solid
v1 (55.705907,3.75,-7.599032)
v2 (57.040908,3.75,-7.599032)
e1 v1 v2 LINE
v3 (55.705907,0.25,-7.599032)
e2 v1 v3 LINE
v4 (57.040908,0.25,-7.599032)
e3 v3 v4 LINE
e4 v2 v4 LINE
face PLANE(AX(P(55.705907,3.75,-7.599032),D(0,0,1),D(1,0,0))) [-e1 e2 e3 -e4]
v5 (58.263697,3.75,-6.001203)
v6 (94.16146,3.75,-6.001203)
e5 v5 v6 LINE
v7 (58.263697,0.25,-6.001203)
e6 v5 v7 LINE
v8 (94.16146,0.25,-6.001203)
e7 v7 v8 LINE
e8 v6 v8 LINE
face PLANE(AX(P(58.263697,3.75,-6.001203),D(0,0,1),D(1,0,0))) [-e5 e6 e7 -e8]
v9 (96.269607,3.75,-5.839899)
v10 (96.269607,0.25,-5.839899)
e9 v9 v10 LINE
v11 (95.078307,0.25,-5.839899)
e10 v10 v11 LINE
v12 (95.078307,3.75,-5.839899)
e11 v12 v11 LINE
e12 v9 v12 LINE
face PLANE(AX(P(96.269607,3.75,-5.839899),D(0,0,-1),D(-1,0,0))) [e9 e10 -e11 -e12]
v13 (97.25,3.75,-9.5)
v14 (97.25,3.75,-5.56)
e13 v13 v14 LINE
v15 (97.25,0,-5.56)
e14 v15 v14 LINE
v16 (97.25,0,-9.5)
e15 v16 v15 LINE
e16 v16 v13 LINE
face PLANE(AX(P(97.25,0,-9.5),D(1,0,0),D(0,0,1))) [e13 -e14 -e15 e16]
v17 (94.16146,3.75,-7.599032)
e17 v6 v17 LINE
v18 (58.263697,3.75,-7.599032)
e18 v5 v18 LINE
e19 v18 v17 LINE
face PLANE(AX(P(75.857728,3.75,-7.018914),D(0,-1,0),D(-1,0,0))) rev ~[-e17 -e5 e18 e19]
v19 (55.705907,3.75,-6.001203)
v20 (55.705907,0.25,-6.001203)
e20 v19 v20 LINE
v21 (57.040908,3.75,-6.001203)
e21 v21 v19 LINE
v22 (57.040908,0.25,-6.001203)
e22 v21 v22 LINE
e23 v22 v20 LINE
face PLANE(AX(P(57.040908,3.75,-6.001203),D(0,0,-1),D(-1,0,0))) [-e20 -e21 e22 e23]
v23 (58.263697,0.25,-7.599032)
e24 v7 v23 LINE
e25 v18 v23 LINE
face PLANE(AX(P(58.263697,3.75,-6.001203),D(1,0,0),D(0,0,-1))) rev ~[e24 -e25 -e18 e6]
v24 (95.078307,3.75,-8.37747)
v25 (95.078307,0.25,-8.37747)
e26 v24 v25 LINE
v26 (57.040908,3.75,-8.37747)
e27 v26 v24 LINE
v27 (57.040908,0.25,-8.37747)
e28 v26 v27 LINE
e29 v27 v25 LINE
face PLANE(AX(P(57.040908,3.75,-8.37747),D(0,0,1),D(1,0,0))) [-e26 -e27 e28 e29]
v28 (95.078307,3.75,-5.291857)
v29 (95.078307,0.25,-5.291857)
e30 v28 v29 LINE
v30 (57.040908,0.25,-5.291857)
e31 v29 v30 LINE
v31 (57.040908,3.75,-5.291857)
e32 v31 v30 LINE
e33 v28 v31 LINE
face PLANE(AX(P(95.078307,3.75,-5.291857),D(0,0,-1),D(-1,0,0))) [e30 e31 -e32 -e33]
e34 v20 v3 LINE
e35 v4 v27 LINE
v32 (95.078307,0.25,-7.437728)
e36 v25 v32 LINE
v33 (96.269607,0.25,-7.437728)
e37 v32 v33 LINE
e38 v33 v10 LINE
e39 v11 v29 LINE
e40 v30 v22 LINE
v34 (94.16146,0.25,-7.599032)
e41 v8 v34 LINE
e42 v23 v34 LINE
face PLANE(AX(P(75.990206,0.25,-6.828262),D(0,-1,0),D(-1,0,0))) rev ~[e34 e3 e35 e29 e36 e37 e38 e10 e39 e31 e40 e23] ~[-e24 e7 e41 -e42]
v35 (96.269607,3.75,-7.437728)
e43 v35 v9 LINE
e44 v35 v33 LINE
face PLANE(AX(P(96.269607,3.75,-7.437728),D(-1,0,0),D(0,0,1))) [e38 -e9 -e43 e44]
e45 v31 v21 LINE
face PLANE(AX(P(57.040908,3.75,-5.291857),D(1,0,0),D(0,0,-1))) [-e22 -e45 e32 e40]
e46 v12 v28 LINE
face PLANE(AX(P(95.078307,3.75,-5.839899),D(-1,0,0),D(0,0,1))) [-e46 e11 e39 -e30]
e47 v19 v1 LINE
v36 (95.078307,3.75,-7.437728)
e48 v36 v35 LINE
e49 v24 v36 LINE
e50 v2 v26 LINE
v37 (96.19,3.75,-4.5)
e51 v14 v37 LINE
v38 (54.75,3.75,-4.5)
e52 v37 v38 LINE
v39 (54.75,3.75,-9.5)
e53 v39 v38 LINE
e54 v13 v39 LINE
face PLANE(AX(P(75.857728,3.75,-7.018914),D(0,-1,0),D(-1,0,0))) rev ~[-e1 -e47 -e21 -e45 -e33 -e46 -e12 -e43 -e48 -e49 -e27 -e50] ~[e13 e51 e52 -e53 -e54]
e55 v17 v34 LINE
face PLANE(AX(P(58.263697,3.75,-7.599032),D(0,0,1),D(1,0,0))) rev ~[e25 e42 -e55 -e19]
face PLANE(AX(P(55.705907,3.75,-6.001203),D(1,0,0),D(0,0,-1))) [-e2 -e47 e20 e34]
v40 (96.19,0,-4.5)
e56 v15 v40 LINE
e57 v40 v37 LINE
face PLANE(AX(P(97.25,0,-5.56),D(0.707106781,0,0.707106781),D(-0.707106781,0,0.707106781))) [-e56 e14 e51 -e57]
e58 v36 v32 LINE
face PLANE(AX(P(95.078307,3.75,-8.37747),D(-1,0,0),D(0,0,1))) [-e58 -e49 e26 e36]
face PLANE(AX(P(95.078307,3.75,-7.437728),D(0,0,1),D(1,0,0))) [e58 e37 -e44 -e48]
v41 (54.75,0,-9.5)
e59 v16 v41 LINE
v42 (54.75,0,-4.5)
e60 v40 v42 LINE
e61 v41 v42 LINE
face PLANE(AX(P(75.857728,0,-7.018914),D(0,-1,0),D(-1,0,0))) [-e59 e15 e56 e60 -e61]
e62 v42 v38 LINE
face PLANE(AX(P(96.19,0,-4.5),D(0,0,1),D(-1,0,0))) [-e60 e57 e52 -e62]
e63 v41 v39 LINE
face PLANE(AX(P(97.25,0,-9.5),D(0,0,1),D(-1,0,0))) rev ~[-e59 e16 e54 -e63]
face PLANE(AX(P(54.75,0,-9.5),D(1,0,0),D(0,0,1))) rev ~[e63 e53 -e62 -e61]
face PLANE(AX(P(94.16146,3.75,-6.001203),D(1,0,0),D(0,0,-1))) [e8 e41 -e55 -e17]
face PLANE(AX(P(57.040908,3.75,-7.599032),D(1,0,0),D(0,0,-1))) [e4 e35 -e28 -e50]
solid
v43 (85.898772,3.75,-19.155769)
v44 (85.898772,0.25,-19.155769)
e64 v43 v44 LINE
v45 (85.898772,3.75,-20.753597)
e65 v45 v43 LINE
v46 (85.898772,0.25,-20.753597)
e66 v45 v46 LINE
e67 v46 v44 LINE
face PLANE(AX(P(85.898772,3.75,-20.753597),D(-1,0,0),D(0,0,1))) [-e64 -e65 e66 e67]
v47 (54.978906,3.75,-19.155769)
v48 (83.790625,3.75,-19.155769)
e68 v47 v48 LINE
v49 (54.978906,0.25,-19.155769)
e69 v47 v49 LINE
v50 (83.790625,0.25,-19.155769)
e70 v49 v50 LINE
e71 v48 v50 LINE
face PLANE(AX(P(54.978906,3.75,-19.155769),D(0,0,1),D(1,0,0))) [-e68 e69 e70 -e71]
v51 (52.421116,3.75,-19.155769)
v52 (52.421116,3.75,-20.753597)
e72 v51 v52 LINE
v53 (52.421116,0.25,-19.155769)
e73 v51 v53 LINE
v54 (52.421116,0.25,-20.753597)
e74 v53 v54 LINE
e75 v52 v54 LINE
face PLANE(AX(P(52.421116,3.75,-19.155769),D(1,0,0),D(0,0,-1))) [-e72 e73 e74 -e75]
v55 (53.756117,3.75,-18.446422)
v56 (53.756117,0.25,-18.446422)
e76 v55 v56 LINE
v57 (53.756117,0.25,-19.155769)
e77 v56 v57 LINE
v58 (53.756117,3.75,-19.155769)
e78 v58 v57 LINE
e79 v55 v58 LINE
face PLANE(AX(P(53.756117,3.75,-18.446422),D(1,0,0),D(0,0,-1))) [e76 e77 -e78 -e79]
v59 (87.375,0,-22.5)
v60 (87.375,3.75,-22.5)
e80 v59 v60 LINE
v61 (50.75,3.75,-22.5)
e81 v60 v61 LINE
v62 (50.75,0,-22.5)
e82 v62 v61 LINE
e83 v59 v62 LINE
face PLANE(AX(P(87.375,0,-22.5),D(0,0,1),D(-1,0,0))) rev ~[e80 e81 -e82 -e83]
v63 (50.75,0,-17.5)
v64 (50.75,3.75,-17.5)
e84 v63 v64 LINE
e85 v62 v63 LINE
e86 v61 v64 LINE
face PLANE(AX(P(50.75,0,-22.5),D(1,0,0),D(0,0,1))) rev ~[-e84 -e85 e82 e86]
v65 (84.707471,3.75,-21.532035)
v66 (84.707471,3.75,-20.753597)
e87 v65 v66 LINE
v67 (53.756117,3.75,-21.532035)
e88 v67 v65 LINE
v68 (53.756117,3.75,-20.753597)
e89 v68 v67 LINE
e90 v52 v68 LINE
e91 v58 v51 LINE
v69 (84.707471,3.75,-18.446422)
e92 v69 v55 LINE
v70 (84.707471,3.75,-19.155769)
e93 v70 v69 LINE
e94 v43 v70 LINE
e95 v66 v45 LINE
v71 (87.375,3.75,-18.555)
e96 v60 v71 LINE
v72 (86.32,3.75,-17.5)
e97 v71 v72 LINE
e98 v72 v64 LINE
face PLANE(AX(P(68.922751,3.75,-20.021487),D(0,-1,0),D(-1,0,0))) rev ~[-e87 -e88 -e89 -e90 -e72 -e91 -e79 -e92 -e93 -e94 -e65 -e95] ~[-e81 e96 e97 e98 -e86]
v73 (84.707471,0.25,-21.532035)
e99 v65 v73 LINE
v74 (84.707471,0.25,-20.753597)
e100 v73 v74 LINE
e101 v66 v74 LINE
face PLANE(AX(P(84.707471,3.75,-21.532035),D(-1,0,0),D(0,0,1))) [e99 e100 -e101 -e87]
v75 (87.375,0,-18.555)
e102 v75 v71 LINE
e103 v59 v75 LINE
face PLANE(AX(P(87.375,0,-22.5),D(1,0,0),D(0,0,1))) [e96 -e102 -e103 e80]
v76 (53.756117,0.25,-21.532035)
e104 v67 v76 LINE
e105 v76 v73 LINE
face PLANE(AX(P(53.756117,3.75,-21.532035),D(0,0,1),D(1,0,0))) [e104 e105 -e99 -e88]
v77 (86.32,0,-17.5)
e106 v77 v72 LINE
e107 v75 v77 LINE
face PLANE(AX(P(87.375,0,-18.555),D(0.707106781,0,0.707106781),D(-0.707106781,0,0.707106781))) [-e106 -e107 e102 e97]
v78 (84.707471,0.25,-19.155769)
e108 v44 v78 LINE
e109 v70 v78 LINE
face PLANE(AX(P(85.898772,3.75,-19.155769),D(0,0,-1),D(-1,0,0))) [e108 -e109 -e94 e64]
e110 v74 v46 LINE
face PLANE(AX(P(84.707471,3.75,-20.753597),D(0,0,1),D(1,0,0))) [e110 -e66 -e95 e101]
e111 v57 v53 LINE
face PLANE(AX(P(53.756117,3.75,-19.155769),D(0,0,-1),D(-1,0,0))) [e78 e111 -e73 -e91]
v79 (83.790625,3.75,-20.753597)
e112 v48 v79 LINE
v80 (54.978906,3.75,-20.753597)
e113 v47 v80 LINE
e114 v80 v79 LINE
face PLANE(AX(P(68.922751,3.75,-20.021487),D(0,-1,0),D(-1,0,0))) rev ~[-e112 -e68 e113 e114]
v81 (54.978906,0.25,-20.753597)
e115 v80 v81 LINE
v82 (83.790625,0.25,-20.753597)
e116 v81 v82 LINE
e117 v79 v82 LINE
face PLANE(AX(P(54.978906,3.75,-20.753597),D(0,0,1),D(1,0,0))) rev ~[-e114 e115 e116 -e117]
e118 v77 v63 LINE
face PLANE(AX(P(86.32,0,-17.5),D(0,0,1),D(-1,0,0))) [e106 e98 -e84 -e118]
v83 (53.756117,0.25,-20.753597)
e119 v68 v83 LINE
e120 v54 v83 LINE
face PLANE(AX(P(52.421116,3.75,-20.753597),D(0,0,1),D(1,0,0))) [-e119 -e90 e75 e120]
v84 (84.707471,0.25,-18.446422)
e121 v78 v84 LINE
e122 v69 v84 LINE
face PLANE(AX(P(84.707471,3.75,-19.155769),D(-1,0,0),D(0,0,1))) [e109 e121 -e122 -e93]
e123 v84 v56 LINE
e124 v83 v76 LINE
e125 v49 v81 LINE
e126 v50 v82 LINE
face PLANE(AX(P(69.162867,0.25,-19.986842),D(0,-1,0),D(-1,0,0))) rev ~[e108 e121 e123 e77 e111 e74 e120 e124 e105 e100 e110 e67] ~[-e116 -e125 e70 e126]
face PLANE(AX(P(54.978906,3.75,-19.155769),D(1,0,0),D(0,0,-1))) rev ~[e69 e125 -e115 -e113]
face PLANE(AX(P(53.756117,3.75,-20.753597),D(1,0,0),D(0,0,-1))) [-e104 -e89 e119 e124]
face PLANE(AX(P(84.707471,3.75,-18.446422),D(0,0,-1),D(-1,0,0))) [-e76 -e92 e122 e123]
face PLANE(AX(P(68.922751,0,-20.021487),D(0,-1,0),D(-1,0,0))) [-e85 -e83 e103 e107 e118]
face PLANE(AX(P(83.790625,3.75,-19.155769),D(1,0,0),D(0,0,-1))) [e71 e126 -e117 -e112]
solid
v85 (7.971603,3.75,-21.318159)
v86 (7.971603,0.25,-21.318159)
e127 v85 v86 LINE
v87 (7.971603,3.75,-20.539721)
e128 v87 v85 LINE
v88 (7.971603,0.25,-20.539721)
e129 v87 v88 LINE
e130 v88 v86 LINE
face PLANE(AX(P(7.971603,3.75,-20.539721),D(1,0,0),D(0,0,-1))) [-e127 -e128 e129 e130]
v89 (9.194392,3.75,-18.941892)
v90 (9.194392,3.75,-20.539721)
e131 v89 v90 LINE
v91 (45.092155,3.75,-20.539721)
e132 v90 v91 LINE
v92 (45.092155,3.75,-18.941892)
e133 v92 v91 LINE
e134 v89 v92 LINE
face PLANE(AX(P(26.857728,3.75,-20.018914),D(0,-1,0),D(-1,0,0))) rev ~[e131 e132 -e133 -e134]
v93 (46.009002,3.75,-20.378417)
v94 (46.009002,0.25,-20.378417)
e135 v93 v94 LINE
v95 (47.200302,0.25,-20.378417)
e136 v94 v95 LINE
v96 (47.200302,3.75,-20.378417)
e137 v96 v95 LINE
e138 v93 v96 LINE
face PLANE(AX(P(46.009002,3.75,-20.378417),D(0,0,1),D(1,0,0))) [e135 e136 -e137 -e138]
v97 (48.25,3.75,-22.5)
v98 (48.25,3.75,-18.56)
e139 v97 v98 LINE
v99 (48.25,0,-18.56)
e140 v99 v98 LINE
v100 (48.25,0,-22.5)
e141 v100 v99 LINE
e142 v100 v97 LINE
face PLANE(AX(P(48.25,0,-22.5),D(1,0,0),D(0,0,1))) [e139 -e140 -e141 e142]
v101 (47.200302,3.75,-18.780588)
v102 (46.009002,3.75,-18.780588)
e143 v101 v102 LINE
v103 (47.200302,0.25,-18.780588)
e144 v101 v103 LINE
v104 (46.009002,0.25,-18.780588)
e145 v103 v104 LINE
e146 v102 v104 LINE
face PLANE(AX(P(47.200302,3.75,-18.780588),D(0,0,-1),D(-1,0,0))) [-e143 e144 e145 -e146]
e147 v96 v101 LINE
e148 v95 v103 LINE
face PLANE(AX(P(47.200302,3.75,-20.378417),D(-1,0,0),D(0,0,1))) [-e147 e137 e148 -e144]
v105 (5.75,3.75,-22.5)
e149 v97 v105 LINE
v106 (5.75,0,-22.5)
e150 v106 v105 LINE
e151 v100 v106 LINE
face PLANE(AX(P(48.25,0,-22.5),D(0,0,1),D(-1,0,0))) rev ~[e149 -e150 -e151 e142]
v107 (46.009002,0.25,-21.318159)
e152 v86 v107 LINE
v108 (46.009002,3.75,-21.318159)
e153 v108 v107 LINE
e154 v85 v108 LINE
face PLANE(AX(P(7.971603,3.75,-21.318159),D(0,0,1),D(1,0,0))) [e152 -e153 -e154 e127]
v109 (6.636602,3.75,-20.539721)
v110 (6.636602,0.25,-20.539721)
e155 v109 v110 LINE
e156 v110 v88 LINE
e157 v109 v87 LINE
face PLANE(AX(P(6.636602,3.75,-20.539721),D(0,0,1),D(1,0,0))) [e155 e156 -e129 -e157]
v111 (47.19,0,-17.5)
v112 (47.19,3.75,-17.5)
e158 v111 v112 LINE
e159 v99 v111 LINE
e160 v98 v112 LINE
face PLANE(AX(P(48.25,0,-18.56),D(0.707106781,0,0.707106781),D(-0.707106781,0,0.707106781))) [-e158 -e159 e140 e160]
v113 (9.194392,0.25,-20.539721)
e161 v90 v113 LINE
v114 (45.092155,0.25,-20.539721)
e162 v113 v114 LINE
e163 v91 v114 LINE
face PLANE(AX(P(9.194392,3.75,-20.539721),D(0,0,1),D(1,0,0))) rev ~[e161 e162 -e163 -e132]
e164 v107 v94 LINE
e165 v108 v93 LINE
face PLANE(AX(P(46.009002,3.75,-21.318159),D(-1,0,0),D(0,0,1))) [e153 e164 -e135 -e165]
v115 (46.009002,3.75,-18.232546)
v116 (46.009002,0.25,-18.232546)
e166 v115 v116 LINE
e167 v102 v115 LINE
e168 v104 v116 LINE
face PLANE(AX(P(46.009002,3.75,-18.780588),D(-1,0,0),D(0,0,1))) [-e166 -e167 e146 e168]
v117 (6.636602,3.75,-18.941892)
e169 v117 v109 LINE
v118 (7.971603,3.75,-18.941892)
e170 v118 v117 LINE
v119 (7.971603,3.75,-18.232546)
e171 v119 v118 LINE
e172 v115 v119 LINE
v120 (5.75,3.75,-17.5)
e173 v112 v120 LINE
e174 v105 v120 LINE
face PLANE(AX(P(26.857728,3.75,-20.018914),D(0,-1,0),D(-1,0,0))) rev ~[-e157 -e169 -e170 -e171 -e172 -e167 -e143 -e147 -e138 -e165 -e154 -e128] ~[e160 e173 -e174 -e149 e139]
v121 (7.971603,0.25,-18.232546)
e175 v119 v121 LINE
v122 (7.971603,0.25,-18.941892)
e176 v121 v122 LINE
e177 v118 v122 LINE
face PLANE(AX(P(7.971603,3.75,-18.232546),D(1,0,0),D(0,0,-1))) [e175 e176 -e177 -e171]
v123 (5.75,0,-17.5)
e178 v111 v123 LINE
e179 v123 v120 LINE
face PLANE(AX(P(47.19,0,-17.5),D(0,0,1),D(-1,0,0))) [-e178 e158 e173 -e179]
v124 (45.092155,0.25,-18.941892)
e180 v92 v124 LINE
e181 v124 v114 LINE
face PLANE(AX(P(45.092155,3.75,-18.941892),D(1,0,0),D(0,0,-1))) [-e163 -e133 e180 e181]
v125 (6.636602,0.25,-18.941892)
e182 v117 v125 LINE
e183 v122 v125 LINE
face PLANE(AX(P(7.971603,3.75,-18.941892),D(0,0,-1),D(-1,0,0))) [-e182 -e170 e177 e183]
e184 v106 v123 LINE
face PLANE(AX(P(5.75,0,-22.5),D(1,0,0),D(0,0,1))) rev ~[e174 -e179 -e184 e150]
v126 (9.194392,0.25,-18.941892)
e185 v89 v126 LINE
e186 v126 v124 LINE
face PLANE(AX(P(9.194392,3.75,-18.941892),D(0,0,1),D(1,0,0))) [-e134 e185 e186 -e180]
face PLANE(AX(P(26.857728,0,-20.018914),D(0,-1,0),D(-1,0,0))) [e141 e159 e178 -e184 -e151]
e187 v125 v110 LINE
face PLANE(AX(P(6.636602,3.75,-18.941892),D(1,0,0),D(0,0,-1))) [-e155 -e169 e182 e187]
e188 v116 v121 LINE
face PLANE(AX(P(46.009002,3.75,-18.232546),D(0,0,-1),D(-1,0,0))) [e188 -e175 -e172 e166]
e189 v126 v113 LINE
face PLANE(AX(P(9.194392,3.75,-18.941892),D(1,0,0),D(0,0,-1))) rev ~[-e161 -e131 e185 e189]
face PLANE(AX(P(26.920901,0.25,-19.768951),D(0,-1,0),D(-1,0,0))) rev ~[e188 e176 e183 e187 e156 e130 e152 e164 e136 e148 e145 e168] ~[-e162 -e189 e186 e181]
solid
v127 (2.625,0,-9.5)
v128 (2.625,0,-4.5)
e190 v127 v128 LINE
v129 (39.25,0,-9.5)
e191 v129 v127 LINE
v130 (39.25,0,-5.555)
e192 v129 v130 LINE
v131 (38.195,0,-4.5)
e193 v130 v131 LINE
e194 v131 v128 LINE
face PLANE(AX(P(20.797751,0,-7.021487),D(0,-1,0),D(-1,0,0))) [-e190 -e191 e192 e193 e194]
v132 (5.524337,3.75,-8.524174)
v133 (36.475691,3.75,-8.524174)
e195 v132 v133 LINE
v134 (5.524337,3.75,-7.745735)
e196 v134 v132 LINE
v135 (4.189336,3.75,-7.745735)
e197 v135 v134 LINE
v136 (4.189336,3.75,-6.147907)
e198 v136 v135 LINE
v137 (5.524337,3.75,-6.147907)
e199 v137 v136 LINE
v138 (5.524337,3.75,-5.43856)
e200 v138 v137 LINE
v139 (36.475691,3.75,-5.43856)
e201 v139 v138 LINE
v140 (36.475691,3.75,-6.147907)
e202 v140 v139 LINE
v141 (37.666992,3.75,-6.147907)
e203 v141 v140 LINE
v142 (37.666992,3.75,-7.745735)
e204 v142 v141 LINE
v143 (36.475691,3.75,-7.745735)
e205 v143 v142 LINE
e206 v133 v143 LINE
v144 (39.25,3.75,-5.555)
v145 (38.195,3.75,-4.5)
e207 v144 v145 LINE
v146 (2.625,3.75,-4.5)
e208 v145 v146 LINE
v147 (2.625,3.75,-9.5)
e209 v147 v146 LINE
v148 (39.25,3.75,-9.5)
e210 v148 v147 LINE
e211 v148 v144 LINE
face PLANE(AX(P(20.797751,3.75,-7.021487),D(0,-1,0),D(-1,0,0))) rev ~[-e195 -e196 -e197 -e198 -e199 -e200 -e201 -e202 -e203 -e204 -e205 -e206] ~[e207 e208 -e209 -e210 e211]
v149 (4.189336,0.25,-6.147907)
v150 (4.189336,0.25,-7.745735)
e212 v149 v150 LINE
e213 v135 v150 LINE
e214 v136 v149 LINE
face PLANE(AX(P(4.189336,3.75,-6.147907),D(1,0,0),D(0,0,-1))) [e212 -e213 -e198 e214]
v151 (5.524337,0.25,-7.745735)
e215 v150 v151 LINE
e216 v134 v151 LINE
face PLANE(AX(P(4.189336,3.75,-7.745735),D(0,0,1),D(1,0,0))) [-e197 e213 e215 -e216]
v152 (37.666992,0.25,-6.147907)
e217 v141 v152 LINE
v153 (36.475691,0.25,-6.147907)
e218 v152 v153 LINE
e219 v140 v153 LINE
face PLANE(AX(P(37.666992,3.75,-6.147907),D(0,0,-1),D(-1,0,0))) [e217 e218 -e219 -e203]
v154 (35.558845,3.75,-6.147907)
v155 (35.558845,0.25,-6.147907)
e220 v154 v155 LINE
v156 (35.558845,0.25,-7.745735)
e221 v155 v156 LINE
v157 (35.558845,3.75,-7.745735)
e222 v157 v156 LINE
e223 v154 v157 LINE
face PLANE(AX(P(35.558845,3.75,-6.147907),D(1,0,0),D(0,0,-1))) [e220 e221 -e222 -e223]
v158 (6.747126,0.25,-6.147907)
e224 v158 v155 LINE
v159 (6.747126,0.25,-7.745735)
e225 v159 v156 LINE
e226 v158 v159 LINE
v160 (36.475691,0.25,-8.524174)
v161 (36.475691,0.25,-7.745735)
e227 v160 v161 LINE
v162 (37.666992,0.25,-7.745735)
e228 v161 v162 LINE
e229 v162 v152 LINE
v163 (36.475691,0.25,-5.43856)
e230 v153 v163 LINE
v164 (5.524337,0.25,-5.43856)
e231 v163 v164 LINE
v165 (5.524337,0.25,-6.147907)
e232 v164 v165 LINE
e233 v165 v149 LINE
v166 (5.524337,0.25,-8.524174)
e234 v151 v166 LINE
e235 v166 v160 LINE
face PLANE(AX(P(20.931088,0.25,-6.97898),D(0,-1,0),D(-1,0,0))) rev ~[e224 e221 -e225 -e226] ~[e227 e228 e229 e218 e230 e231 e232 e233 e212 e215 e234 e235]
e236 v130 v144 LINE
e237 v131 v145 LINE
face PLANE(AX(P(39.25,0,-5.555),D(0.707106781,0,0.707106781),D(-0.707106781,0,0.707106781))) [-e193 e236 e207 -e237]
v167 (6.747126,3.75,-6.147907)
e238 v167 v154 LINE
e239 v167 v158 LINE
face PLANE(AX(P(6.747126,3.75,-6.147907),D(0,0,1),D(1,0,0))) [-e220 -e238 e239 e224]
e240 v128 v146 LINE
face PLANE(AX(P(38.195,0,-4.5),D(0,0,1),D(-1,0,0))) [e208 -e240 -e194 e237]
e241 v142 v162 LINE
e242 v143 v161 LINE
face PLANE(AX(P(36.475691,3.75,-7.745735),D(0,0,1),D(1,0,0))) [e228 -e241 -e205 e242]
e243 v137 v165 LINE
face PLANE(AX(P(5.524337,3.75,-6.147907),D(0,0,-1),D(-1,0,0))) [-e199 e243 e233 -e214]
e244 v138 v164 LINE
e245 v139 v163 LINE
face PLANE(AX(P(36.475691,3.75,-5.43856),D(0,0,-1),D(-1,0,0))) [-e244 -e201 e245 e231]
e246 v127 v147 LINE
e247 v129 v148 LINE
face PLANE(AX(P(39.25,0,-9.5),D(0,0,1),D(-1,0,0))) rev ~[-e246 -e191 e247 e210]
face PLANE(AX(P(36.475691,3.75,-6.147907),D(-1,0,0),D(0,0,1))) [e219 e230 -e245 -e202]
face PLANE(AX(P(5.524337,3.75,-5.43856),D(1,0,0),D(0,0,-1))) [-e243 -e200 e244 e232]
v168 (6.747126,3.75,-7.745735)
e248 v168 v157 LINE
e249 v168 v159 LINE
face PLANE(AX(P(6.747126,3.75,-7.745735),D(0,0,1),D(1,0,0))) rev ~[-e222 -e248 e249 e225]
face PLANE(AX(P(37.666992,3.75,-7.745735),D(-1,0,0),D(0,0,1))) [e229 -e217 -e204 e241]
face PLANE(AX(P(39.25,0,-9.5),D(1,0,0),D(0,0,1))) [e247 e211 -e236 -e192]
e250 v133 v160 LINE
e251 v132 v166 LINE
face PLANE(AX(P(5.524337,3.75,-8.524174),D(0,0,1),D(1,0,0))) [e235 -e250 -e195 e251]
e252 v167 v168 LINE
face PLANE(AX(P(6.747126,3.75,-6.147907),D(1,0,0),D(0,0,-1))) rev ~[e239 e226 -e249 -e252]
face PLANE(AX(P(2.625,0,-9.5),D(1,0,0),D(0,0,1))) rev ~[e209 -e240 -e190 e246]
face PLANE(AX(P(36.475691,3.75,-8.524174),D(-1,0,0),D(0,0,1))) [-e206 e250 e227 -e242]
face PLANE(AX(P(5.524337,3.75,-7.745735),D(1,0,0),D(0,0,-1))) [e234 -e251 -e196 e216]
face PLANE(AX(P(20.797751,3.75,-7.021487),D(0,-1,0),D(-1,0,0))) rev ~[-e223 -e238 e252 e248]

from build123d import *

# Parameters (mm, degrees)
SV_DEPTH           = 3.75
SV_2_DEPTH         = 3.75
SV_3_DEPTH         = 3.75
SV_4_DEPTH         = 3.75
SKETCH3_W          = 28.811718275
SKETCH3_H          = 1.597828601
SKETCH3_W_2        = 35.897762959
SKETCH3_W_3        = 35.897762958
CUT_EXTRUDE1_DEPTH = 3.5


with BuildPart() as part:
    # Sketch1 → SV (new body)
    with BuildSketch(Plane(origin=(0, 0, 0), x_dir=(1, 0, 0), z_dir=(0, 1, 0))):
        Polygon((55.811, 9.5), (97.25, 9.5), (97.25, 5.56), (96.19, 4.5), (54.75, 4.5), (54.75, 8.439), (54.75, 9.5), align=None)
    extrude(amount=SV_DEPTH)


with BuildPart() as body_2:
    # Sketch1 → SV 2 (new body)
    with BuildSketch(Plane(origin=(0, 0, 0), x_dir=(1, 0, 0), z_dir=(0, 1, 0))):
        Polygon((3.686, 9.5), (39.25, 9.5), (39.25, 5.555), (38.195, 4.5), (2.625, 4.5), (2.625, 8.439), (2.625, 9.5), align=None)
    extrude(amount=SV_2_DEPTH)


with BuildPart() as body_3:
    # Sketch1 → SV 3 (new body)
    with BuildSketch(Plane(origin=(0, 0, 0), x_dir=(1, 0, 0), z_dir=(0, 1, 0))):
        Polygon((51.811, 22.5), (87.375, 22.5), (87.375, 18.555), (86.32, 17.5), (50.75, 17.5), (50.75, 21.439), (50.75, 22.5), align=None)
    extrude(amount=SV_3_DEPTH)


with BuildPart() as body_4:
    # Sketch1 → SV 4 (new body)
    with BuildSketch(Plane(origin=(0, 0, 0), x_dir=(1, 0, 0), z_dir=(0, 1, 0))):
        Polygon((6.811, 22.5), (48.25, 22.5), (48.25, 18.56), (47.19, 17.5), (5.75, 17.5), (5.75, 21.439), (5.75, 22.5), align=None)
    extrude(amount=SV_4_DEPTH)


with BuildPart() as cut_extrude1_tool:
    # Sketch3 → Cut-Extrude1 (new body)
    with BuildSketch(Plane(origin=(0, 3.75, 0), x_dir=(1, 0, 0), z_dir=(0, 1, 0))):
        Polygon((4.189336253, 7.745735487), (5.524337048, 7.745735487), (5.524337048, 8.524173538), (36.475691419, 8.524173538), (36.475691419, 7.745735487), (37.666991912, 7.745735487), (37.666991912, 6.147906886), (36.475691419, 6.147906886), (36.475691419, 5.438560322), (5.524337048, 5.438560322), (5.524337048, 6.147906886), (4.189336253, 6.147906886), align=None)
        with Locations((21.152985591, 6.946821187)):
            Rectangle(SKETCH3_W, SKETCH3_H, mode=Mode.SUBTRACT)
        Polygon((52.421116037, 20.753597434), (53.756116831, 20.753597434), (53.756116831, 21.532035485), (84.707471203, 21.532035485), (84.707471203, 20.753597434), (85.898771695, 20.753597434), (85.898771695, 19.155768833), (84.707471203, 19.155768833), (84.707471203, 18.446422269), (53.756116831, 18.446422269), (53.756116831, 19.155768833), (52.421116037, 19.155768833), align=None)
        with Locations((69.384765375, 19.954683133)):
            Rectangle(SKETCH3_W, SKETCH3_H, mode=Mode.SUBTRACT)
        Polygon((55.705906871, 7.599031898), (57.040907666, 7.599031898), (57.040907666, 8.377469948), (95.07830672, 8.377469948), (95.07830672, 7.437727621), (96.269607213, 7.437727621), (96.269607213, 5.83989902), (95.07830672, 5.83989902), (95.07830672, 5.291856733), (57.040907666, 5.291856733), (57.040907666, 6.001203297), (55.705906871, 6.001203297), align=None)
        with Locations((76.21257855, 6.800117597)):
            Rectangle(SKETCH3_W_2, SKETCH3_H, mode=Mode.SUBTRACT)
        Polygon((6.636601859, 20.53972103), (7.971602653, 20.53972103), (7.971602653, 21.318159081), (46.009001708, 21.318159081), (46.009001708, 20.378416754), (47.2003022, 20.378416754), (47.2003022, 18.780588153), (46.009001708, 18.780588153), (46.009001708, 18.232545866), (7.971602653, 18.232545866), (7.971602653, 18.941892429), (6.636601859, 18.941892429), align=None)
        with Locations((27.143273538, 19.74080673)):
            Rectangle(SKETCH3_W_3, SKETCH3_H, mode=Mode.SUBTRACT)
    extrude(amount=-CUT_EXTRUDE1_DEPTH)


with BuildPart() as part_1:
    add(part.part)

    # Cut-Extrude1: cut by cut_extrude1_tool
    add(cut_extrude1_tool.part, mode=Mode.SUBTRACT)


with BuildPart() as body_2_1:
    add(body_2.part)

    # Cut-Extrude1: cut by cut_extrude1_tool
    add(cut_extrude1_tool.part, mode=Mode.SUBTRACT)


with BuildPart() as body_3_1:
    add(body_3.part)

    # Cut-Extrude1: cut by cut_extrude1_tool
    add(cut_extrude1_tool.part, mode=Mode.SUBTRACT)


with BuildPart() as body_4_1:
    add(body_4.part)

    # Cut-Extrude1: cut by cut_extrude1_tool
    add(cut_extrude1_tool.part, mode=Mode.SUBTRACT)


solid = Compound([part_1.part, body_2_1.part, body_3_1.part, body_4_1.part])
